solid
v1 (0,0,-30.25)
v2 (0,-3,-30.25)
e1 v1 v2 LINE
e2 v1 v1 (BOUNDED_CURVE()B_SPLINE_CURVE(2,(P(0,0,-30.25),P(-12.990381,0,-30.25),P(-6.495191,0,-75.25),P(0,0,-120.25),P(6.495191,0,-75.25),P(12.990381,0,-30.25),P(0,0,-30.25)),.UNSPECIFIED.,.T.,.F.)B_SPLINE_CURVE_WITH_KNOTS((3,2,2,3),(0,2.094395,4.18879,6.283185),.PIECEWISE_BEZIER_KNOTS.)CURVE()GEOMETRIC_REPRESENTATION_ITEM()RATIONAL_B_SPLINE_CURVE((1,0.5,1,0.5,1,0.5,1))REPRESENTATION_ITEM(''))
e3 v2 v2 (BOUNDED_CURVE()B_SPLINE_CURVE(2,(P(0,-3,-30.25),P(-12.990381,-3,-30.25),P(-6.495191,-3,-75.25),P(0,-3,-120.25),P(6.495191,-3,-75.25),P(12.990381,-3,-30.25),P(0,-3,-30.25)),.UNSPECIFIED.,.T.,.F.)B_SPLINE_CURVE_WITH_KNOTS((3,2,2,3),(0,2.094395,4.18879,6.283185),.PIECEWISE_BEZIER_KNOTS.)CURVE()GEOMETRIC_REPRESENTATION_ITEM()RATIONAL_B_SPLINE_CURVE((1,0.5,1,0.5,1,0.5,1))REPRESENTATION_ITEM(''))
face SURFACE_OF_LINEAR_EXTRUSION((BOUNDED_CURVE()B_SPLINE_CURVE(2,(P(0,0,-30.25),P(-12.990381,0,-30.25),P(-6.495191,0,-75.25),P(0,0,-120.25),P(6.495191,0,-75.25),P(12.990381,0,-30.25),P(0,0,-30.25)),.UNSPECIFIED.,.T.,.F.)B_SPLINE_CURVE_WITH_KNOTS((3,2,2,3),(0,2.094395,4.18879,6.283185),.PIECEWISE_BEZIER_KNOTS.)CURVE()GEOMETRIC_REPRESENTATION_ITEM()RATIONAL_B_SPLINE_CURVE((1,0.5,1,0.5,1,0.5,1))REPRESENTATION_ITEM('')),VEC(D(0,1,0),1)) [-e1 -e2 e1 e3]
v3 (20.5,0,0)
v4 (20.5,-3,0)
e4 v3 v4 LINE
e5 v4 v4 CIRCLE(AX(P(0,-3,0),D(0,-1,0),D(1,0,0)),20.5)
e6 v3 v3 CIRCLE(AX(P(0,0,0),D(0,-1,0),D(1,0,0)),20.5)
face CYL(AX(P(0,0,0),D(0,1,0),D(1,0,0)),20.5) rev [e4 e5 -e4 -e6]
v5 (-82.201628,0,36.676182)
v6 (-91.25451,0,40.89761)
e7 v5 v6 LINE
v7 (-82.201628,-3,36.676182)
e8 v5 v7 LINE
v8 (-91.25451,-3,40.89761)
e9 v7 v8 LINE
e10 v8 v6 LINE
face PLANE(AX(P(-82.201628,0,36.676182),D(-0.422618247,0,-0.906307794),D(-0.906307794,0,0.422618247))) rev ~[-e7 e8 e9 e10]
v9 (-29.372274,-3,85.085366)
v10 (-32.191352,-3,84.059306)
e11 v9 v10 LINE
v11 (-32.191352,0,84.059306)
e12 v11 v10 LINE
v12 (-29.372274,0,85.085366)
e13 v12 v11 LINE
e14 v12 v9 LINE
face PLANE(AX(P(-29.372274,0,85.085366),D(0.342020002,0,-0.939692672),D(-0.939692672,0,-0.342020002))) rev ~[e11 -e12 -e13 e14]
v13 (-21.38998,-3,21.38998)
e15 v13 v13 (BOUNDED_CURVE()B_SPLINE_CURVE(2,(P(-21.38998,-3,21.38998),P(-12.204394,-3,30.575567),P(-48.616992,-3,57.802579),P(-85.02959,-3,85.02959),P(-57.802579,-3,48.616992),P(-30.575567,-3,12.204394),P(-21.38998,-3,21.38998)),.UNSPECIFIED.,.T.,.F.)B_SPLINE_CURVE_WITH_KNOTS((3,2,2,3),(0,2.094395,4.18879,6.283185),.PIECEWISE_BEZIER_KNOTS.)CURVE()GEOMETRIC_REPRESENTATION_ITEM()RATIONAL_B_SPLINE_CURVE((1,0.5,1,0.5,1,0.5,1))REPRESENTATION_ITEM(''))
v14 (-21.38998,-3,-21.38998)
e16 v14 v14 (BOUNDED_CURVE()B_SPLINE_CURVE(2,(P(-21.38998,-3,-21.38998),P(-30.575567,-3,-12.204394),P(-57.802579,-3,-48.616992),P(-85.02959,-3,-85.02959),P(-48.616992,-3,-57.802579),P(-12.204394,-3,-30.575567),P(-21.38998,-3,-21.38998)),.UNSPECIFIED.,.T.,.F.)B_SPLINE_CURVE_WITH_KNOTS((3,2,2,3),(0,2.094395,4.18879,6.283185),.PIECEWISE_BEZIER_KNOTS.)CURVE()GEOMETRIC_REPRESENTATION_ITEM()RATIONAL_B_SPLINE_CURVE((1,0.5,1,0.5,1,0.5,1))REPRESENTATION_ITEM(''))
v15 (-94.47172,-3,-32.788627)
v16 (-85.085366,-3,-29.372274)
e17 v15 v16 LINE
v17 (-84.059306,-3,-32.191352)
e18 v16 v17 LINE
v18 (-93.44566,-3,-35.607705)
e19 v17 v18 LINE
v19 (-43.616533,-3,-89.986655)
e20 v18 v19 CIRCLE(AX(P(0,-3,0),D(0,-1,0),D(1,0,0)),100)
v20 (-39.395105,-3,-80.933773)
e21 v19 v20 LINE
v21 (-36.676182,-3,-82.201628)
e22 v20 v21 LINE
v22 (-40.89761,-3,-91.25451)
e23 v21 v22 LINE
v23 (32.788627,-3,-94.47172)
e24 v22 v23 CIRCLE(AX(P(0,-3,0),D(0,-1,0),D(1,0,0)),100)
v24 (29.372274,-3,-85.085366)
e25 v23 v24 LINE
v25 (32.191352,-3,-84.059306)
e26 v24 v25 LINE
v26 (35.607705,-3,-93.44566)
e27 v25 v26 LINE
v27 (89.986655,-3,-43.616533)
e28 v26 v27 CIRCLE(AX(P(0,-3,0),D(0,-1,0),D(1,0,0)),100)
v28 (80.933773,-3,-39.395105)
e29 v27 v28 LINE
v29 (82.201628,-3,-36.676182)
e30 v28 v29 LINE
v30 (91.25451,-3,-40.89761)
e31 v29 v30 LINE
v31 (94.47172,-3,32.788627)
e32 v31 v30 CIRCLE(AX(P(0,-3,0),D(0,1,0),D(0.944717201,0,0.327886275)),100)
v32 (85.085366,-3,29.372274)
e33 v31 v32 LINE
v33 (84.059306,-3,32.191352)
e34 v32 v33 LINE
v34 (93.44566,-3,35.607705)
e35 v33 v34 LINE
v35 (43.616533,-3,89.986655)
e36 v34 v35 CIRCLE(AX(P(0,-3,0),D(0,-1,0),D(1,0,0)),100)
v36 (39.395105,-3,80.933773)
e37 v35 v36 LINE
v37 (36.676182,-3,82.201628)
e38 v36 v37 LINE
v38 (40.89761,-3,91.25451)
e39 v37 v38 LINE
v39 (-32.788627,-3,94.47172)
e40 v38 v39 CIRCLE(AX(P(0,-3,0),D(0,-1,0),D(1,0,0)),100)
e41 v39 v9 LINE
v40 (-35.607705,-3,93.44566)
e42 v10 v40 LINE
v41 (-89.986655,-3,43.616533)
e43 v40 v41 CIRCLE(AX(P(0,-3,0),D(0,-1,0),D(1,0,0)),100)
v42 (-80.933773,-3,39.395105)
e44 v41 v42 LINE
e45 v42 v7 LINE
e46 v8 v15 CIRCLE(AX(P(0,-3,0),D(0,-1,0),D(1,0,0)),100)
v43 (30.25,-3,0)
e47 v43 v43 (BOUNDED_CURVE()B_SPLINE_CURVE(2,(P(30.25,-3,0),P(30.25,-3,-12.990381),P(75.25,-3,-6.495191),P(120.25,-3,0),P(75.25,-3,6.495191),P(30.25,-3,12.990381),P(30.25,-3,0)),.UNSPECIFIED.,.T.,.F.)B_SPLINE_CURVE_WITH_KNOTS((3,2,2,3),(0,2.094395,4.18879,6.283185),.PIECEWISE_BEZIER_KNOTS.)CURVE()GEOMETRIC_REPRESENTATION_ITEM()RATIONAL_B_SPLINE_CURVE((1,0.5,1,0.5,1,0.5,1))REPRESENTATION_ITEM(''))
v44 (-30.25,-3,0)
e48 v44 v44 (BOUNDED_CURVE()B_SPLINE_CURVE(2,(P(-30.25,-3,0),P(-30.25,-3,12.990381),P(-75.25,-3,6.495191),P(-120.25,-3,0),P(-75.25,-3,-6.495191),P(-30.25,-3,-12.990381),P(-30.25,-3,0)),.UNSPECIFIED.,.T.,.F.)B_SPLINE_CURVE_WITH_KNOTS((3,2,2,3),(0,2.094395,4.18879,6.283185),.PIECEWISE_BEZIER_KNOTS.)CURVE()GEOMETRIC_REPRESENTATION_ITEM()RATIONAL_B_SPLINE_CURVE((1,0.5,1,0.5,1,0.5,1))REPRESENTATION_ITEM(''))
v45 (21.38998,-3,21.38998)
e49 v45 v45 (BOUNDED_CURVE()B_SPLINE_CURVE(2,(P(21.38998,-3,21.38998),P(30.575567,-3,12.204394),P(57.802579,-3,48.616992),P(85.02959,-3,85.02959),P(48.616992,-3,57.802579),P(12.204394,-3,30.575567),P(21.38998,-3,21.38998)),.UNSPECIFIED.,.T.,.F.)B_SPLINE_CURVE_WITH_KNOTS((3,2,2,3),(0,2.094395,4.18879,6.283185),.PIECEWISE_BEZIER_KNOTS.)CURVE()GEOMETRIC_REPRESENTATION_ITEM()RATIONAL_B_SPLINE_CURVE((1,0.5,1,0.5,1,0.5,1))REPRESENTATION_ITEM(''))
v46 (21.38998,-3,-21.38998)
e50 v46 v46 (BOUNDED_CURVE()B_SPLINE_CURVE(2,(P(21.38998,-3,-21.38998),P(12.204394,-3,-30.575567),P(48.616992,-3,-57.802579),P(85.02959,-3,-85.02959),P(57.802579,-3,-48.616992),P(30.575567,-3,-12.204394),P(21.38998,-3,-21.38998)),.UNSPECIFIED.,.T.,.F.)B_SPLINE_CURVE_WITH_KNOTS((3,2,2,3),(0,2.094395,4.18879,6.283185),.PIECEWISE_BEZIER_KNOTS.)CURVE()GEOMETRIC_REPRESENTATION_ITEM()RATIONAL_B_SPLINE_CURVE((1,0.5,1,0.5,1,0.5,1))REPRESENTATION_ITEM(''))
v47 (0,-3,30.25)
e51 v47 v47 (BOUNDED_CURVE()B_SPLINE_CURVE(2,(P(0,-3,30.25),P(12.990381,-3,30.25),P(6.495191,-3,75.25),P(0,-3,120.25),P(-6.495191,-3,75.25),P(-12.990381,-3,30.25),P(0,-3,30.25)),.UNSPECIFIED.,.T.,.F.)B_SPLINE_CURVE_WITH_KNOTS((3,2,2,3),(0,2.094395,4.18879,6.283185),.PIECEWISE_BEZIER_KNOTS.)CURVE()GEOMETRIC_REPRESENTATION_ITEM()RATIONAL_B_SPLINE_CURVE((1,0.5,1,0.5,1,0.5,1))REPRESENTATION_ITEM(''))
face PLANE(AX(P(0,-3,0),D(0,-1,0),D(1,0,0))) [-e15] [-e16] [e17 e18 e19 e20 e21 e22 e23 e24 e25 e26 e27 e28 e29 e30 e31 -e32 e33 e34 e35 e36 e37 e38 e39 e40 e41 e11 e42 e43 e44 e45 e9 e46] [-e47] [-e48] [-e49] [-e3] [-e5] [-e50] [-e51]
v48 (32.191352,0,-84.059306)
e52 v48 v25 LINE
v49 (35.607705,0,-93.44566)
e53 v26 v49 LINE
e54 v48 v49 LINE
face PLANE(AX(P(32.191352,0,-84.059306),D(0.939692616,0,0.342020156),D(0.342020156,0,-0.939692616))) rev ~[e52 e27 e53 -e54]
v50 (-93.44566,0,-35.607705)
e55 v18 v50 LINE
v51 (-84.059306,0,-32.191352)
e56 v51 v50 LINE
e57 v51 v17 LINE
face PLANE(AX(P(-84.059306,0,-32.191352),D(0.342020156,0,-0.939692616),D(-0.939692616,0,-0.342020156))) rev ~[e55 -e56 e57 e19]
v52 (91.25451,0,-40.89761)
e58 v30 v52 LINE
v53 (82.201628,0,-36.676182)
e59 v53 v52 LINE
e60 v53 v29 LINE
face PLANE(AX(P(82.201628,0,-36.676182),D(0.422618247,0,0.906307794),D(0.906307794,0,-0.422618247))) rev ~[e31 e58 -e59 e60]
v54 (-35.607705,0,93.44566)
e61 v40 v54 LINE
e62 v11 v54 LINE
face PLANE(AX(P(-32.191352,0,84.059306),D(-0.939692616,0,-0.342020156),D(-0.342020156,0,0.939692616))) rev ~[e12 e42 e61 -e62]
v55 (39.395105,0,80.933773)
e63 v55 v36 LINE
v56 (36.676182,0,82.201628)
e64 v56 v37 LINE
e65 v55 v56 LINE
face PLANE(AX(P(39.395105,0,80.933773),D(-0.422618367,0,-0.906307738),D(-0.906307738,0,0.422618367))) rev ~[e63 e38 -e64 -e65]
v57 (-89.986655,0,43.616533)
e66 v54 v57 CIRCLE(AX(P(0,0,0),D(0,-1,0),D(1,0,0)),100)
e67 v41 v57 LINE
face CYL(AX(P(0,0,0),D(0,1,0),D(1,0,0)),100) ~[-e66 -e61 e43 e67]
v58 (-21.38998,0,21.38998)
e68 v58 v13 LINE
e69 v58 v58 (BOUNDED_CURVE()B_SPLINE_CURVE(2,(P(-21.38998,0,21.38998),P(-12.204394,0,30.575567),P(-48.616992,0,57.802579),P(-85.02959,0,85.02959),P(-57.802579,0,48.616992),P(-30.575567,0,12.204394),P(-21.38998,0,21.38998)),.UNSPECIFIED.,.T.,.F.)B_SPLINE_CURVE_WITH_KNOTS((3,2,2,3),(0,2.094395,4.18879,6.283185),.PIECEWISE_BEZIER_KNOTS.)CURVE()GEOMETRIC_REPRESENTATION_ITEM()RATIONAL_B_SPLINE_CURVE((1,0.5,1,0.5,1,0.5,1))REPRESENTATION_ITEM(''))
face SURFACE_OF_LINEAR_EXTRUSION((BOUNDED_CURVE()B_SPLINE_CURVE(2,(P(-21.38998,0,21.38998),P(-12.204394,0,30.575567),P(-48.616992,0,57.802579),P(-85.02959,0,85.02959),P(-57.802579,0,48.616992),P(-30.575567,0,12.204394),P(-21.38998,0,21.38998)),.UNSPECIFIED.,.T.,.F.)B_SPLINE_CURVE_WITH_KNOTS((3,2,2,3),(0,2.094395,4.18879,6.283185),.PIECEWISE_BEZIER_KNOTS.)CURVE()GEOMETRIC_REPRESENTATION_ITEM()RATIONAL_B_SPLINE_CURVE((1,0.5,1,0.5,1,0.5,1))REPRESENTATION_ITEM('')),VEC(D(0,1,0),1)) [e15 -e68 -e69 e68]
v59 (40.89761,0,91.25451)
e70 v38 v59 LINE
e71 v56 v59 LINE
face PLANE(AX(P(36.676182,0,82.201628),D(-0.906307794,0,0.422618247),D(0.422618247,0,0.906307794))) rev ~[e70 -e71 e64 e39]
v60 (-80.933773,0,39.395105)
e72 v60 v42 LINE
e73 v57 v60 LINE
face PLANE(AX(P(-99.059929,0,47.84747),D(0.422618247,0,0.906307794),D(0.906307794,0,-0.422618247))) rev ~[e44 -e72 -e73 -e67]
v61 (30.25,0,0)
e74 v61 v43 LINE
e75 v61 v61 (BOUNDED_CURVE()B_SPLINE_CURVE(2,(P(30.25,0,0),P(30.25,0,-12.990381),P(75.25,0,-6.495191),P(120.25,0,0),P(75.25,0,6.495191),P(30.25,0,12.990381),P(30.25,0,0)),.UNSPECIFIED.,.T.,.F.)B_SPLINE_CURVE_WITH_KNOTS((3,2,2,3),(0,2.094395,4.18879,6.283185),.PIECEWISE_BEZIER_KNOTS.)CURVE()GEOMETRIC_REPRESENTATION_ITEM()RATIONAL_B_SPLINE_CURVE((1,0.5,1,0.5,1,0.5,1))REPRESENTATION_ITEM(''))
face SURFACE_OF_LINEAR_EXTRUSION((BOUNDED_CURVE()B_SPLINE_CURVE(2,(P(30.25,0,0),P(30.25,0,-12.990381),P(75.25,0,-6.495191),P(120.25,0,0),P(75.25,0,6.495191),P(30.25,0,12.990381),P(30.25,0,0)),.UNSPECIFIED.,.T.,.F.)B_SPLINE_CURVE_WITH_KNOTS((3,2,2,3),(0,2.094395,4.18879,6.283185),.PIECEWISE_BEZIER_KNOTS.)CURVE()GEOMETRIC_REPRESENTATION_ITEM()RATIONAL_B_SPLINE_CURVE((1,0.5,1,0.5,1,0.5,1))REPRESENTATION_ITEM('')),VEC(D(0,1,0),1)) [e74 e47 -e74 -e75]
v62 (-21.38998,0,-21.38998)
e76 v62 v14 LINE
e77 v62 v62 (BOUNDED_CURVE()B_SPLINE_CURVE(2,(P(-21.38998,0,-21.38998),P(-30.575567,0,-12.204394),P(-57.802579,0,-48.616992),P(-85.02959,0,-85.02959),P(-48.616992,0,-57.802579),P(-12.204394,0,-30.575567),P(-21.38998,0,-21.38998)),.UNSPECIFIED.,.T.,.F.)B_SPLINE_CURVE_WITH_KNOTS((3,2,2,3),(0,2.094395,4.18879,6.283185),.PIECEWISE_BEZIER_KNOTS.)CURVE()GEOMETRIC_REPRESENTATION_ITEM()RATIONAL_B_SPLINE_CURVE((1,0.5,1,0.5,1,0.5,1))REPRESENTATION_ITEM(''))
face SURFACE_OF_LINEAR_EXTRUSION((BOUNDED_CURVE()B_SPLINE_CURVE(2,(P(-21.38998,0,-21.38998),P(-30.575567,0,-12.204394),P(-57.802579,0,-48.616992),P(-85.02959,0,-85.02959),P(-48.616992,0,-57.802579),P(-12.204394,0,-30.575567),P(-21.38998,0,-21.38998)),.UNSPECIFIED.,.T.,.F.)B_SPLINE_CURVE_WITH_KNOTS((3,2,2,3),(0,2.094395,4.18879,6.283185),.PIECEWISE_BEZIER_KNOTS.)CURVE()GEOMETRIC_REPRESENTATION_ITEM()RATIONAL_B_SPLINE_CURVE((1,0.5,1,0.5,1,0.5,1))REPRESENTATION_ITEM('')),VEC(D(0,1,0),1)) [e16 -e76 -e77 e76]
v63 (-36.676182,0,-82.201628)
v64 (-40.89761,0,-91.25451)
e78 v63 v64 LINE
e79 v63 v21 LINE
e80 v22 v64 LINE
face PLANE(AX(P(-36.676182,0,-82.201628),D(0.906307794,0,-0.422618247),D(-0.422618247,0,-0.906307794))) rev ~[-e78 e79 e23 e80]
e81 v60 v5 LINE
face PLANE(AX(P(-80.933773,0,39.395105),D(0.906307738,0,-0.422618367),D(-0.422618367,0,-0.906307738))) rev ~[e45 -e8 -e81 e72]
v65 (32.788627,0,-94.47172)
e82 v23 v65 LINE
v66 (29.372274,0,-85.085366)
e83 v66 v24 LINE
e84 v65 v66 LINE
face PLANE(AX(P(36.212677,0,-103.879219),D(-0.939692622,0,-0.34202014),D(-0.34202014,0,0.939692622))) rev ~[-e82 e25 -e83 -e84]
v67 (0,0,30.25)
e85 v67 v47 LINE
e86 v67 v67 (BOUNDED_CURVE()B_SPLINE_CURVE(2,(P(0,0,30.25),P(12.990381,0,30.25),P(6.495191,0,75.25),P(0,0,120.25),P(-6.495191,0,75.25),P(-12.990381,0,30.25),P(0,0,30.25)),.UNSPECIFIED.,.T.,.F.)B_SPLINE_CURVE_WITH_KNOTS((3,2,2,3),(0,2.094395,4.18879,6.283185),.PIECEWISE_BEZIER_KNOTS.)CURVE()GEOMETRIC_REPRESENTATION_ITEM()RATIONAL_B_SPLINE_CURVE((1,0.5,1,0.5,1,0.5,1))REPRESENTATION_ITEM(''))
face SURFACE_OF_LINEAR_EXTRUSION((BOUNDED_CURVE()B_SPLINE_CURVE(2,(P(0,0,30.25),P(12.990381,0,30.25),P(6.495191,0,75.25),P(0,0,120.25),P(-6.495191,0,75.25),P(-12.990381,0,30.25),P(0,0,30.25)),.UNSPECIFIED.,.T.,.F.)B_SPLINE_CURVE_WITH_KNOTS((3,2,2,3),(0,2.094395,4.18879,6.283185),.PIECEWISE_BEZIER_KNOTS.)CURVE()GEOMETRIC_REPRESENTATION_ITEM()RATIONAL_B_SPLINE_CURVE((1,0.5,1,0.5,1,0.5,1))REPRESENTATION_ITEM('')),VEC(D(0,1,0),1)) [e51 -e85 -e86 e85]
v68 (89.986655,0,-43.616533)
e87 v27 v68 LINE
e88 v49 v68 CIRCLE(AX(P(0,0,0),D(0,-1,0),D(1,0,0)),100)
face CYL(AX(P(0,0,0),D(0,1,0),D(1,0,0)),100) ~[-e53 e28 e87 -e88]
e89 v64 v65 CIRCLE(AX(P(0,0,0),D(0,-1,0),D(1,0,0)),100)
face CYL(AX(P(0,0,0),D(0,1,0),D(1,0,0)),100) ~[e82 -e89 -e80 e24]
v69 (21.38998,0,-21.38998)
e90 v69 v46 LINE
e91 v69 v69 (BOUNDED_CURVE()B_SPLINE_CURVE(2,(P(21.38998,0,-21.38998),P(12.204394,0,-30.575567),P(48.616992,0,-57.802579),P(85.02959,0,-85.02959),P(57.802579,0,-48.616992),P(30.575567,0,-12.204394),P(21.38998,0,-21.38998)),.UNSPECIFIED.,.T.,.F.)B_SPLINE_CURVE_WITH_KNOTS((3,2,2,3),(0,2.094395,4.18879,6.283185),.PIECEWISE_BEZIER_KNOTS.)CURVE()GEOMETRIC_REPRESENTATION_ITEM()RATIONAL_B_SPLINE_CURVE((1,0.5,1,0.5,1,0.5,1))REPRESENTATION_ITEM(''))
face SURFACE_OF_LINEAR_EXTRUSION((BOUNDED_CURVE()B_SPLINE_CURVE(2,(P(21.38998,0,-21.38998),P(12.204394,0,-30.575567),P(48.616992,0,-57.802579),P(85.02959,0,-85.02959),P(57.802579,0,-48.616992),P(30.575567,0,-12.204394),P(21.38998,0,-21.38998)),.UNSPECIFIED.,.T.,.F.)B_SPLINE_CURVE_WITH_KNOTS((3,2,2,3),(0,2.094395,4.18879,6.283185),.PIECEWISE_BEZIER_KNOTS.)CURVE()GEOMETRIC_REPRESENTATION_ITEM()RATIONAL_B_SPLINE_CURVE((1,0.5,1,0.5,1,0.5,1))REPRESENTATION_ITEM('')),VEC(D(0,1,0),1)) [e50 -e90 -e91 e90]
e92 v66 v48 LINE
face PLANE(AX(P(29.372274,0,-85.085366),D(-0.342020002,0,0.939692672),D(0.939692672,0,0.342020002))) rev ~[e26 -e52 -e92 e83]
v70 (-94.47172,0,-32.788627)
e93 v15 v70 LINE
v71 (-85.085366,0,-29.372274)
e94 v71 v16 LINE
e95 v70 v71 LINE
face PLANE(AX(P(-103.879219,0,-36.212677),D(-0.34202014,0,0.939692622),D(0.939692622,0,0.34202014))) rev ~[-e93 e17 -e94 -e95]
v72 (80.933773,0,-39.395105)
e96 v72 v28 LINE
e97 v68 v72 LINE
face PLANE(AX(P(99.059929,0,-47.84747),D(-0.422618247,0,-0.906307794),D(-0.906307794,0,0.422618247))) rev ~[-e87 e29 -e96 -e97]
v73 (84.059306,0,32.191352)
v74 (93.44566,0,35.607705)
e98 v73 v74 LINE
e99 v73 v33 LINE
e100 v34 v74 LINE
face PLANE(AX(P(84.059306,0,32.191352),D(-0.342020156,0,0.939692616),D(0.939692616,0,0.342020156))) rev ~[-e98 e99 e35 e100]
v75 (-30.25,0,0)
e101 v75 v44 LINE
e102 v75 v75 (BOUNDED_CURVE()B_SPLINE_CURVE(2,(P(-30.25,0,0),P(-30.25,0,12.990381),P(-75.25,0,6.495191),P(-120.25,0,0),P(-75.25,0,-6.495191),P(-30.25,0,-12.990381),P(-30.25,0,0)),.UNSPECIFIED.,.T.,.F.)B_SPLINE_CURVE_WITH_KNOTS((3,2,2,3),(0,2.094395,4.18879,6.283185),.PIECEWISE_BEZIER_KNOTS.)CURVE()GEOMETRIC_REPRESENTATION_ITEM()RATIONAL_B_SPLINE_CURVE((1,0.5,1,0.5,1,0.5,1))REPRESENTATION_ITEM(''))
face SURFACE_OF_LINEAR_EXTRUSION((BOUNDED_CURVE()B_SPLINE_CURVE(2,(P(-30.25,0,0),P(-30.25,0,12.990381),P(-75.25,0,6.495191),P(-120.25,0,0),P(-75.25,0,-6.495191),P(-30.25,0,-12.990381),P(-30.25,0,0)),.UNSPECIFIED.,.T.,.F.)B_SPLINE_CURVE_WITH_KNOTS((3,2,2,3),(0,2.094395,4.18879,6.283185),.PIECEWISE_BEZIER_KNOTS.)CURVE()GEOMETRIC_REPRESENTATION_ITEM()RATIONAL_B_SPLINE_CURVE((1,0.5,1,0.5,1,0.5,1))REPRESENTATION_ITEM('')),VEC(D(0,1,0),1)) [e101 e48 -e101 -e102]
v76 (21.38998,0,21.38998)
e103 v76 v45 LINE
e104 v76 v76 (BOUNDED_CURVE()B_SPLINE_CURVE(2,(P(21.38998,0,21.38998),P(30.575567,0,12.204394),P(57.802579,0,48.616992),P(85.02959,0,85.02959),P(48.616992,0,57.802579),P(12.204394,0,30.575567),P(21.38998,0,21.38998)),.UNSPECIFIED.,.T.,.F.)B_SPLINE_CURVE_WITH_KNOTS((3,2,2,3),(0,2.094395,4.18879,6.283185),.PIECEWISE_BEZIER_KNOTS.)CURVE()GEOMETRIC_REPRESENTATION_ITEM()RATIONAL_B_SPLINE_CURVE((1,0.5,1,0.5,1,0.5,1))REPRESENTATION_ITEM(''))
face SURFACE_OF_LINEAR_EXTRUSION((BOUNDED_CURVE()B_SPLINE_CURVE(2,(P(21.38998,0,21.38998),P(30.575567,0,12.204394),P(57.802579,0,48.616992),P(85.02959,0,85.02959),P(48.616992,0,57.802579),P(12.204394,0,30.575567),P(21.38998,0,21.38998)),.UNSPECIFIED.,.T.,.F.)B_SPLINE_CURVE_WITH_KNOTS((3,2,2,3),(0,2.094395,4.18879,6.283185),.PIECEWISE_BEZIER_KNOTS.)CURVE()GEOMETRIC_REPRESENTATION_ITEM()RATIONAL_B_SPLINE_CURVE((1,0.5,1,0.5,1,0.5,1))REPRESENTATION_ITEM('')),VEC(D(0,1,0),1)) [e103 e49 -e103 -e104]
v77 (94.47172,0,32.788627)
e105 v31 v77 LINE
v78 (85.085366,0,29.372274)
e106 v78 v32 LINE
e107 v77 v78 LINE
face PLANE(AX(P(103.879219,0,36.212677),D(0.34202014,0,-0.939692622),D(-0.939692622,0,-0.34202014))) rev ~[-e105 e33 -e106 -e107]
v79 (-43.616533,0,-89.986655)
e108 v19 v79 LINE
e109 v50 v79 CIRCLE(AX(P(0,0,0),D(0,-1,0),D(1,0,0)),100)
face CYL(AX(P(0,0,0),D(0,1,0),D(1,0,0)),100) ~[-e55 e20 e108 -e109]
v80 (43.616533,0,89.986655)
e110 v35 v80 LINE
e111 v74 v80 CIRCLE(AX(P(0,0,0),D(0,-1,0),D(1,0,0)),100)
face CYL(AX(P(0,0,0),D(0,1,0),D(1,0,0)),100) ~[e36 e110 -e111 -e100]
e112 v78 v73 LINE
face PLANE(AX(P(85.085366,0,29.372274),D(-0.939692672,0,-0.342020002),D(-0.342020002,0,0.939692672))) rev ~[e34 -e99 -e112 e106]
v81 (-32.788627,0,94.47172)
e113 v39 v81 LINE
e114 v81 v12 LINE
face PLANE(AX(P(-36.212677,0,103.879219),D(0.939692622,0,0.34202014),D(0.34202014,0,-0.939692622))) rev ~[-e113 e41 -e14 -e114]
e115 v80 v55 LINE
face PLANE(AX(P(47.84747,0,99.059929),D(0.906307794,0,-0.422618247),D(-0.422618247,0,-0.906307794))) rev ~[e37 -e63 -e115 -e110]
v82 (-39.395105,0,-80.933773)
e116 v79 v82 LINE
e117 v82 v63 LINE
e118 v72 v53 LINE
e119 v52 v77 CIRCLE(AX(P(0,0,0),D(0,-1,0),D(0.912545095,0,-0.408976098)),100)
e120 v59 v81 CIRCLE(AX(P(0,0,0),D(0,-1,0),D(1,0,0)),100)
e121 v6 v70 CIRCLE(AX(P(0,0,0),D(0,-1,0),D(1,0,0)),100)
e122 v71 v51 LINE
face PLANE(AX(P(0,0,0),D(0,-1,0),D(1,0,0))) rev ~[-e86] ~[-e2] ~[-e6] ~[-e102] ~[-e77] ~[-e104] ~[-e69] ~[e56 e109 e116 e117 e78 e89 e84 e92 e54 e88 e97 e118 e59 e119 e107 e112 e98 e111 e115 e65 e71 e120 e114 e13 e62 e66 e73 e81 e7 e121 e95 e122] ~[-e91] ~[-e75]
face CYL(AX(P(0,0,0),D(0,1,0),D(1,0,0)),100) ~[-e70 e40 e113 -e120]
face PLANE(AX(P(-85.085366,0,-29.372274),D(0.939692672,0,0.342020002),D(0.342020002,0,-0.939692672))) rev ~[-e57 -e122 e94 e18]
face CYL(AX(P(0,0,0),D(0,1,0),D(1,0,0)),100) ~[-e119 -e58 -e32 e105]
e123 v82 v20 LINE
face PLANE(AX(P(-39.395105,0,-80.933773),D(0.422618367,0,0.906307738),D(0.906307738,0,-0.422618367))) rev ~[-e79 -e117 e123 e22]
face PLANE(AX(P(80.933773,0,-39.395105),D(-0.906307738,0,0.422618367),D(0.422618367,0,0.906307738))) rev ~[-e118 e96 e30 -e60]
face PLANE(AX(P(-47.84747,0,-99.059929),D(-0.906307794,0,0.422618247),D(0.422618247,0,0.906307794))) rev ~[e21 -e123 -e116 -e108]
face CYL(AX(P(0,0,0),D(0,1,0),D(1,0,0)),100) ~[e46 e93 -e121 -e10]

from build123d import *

# Parameters (mm, degrees)
F0_R     = 100
F0_R_2   = 20.5
F1_DEPTH = 3
F3_DEPTH = 3


with BuildPart() as f1:
    # F0 (on Front) → F1 (new body)
    with BuildSketch(Plane.XZ):
        Circle(F0_R)
        with BuildLine():
            add(Edge.make_bspline(
                [(-21.38998, -21.38998), (-30.575567, -12.204394), (-57.802579, -48.616992), (-85.02959, -85.02959), (-48.616992, -57.802579), (-12.204394, -30.575567), (-21.38998, -21.38998)],
                knots=[0, 0, 0, 2.094395, 2.094395, 4.18879, 4.18879, 6.283185, 6.283185, 6.283185], degree=2, weights=[1, 0.5, 1, 0.5, 1, 0.5, 1]))
        make_face(mode=Mode.SUBTRACT)
        with BuildLine():
            add(Edge.make_bspline(
                [(0, -30.25), (-12.990381, -30.25), (-6.495191, -75.25), (0, -120.25), (6.495191, -75.25), (12.990381, -30.25), (0, -30.25)],
                knots=[0, 0, 0, 2.094395, 2.094395, 4.18879, 4.18879, 6.283185, 6.283185, 6.283185], degree=2, weights=[1, 0.5, 1, 0.5, 1, 0.5, 1]))
        make_face(mode=Mode.SUBTRACT)
        with BuildLine():
            add(Edge.make_bspline(
                [(21.38998, -21.38998), (12.204394, -30.575567), (48.616992, -57.802579), (85.02959, -85.02959), (57.802579, -48.616992), (30.575567, -12.204394), (21.38998, -21.38998)],
                knots=[0, 0, 0, 2.094395, 2.094395, 4.18879, 4.18879, 6.283185, 6.283185, 6.283185], degree=2, weights=[1, 0.5, 1, 0.5, 1, 0.5, 1]))
        make_face(mode=Mode.SUBTRACT)
        with BuildLine():
            add(Edge.make_bspline(
                [(-30.25, 0), (-30.25, 12.990381), (-75.25, 6.495191), (-120.25, 0), (-75.25, -6.495191), (-30.25, -12.990381), (-30.25, 0)],
                knots=[0, 0, 0, 2.094395, 2.094395, 4.18879, 4.18879, 6.283185, 6.283185, 6.283185], degree=2, weights=[1, 0.5, 1, 0.5, 1, 0.5, 1]))
        make_face(mode=Mode.SUBTRACT)
        with BuildLine():
            add(Edge.make_bspline(
                [(-21.38998, 21.38998), (-12.204394, 30.575567), (-48.616992, 57.802579), (-85.02959, 85.02959), (-57.802579, 48.616992), (-30.575567, 12.204394), (-21.38998, 21.38998)],
                knots=[0, 0, 0, 2.094395, 2.094395, 4.18879, 4.18879, 6.283185, 6.283185, 6.283185], degree=2, weights=[1, 0.5, 1, 0.5, 1, 0.5, 1]))
        make_face(mode=Mode.SUBTRACT)
        Circle(F0_R_2, mode=Mode.SUBTRACT)
        with BuildLine():
            add(Edge.make_bspline(
                [(21.38998, 21.38998), (30.575567, 12.204394), (57.802579, 48.616992), (85.02959, 85.02959), (48.616992, 57.802579), (12.204394, 30.575567), (21.38998, 21.38998)],
                knots=[0, 0, 0, 2.094395, 2.094395, 4.18879, 4.18879, 6.283185, 6.283185, 6.283185], degree=2, weights=[1, 0.5, 1, 0.5, 1, 0.5, 1]))
        make_face(mode=Mode.SUBTRACT)
        with BuildLine():
            add(Edge.make_bspline(
                [(30.25, 0), (30.25, -12.990381), (75.25, -6.495191), (120.25, 0), (75.25, 6.495191), (30.25, 12.990381), (30.25, 0)],
                knots=[0, 0, 0, 2.094395, 2.094395, 4.18879, 4.18879, 6.283185, 6.283185, 6.283185], degree=2, weights=[1, 0.5, 1, 0.5, 1, 0.5, 1]))
        make_face(mode=Mode.SUBTRACT)
        with BuildLine():
            add(Edge.make_bspline(
                [(0, 30.25), (12.990381, 30.25), (6.495191, 75.25), (0, 120.25), (-6.495191, 75.25), (-12.990381, 30.25), (0, 30.25)],
                knots=[0, 0, 0, 2.094395, 2.094395, 4.18879, 4.18879, 6.283185, 6.283185, 6.283185], degree=2, weights=[1, 0.5, 1, 0.5, 1, 0.5, 1]))
        make_face(mode=Mode.SUBTRACT)
    extrude(amount=F1_DEPTH)

    # F2 (on face) → F3 (cut)
    with BuildSketch(Plane(origin=(0, 0, 0), x_dir=(-1, 0, 0), z_dir=(0, 1, 0))):
        Polygon((-82.201628, -36.676182), (-100.327784, -45.128547), (-99.059929, -47.84747), (-80.933773, -39.395105), align=None)
        Polygon((-29.372274, -85.085366), (-32.191352, -84.059306), (-39.031755, -102.853158), (-36.212677, -103.879219), align=None)
        Polygon((39.395105, -80.933773), (36.676182, -82.201628), (45.128547, -100.327784), (47.84747, -99.059929), align=None)
        Polygon((84.059306, -32.191352), (102.853158, -39.031755), (103.879219, -36.212677), (85.085366, -29.372274), align=None)
        Polygon((82.201628, 36.676182), (100.327784, 45.128547), (99.059929, 47.84747), (80.933773, 39.395105), align=None)
        Polygon((32.191352, 84.059306), (39.031755, 102.853158), (36.212677, 103.879219), (29.372274, 85.085366), align=None)
        Polygon((-36.676182, 82.201628), (-45.128547, 100.327784), (-47.84747, 99.059929), (-39.395105, 80.933773), align=None)
        Polygon((-84.059306, 32.191352), (-102.853158, 39.031755), (-103.879219, 36.212677), (-85.085366, 29.372274), align=None)
    extrude(amount=-F3_DEPTH, mode=Mode.SUBTRACT)


solid = f1.part
